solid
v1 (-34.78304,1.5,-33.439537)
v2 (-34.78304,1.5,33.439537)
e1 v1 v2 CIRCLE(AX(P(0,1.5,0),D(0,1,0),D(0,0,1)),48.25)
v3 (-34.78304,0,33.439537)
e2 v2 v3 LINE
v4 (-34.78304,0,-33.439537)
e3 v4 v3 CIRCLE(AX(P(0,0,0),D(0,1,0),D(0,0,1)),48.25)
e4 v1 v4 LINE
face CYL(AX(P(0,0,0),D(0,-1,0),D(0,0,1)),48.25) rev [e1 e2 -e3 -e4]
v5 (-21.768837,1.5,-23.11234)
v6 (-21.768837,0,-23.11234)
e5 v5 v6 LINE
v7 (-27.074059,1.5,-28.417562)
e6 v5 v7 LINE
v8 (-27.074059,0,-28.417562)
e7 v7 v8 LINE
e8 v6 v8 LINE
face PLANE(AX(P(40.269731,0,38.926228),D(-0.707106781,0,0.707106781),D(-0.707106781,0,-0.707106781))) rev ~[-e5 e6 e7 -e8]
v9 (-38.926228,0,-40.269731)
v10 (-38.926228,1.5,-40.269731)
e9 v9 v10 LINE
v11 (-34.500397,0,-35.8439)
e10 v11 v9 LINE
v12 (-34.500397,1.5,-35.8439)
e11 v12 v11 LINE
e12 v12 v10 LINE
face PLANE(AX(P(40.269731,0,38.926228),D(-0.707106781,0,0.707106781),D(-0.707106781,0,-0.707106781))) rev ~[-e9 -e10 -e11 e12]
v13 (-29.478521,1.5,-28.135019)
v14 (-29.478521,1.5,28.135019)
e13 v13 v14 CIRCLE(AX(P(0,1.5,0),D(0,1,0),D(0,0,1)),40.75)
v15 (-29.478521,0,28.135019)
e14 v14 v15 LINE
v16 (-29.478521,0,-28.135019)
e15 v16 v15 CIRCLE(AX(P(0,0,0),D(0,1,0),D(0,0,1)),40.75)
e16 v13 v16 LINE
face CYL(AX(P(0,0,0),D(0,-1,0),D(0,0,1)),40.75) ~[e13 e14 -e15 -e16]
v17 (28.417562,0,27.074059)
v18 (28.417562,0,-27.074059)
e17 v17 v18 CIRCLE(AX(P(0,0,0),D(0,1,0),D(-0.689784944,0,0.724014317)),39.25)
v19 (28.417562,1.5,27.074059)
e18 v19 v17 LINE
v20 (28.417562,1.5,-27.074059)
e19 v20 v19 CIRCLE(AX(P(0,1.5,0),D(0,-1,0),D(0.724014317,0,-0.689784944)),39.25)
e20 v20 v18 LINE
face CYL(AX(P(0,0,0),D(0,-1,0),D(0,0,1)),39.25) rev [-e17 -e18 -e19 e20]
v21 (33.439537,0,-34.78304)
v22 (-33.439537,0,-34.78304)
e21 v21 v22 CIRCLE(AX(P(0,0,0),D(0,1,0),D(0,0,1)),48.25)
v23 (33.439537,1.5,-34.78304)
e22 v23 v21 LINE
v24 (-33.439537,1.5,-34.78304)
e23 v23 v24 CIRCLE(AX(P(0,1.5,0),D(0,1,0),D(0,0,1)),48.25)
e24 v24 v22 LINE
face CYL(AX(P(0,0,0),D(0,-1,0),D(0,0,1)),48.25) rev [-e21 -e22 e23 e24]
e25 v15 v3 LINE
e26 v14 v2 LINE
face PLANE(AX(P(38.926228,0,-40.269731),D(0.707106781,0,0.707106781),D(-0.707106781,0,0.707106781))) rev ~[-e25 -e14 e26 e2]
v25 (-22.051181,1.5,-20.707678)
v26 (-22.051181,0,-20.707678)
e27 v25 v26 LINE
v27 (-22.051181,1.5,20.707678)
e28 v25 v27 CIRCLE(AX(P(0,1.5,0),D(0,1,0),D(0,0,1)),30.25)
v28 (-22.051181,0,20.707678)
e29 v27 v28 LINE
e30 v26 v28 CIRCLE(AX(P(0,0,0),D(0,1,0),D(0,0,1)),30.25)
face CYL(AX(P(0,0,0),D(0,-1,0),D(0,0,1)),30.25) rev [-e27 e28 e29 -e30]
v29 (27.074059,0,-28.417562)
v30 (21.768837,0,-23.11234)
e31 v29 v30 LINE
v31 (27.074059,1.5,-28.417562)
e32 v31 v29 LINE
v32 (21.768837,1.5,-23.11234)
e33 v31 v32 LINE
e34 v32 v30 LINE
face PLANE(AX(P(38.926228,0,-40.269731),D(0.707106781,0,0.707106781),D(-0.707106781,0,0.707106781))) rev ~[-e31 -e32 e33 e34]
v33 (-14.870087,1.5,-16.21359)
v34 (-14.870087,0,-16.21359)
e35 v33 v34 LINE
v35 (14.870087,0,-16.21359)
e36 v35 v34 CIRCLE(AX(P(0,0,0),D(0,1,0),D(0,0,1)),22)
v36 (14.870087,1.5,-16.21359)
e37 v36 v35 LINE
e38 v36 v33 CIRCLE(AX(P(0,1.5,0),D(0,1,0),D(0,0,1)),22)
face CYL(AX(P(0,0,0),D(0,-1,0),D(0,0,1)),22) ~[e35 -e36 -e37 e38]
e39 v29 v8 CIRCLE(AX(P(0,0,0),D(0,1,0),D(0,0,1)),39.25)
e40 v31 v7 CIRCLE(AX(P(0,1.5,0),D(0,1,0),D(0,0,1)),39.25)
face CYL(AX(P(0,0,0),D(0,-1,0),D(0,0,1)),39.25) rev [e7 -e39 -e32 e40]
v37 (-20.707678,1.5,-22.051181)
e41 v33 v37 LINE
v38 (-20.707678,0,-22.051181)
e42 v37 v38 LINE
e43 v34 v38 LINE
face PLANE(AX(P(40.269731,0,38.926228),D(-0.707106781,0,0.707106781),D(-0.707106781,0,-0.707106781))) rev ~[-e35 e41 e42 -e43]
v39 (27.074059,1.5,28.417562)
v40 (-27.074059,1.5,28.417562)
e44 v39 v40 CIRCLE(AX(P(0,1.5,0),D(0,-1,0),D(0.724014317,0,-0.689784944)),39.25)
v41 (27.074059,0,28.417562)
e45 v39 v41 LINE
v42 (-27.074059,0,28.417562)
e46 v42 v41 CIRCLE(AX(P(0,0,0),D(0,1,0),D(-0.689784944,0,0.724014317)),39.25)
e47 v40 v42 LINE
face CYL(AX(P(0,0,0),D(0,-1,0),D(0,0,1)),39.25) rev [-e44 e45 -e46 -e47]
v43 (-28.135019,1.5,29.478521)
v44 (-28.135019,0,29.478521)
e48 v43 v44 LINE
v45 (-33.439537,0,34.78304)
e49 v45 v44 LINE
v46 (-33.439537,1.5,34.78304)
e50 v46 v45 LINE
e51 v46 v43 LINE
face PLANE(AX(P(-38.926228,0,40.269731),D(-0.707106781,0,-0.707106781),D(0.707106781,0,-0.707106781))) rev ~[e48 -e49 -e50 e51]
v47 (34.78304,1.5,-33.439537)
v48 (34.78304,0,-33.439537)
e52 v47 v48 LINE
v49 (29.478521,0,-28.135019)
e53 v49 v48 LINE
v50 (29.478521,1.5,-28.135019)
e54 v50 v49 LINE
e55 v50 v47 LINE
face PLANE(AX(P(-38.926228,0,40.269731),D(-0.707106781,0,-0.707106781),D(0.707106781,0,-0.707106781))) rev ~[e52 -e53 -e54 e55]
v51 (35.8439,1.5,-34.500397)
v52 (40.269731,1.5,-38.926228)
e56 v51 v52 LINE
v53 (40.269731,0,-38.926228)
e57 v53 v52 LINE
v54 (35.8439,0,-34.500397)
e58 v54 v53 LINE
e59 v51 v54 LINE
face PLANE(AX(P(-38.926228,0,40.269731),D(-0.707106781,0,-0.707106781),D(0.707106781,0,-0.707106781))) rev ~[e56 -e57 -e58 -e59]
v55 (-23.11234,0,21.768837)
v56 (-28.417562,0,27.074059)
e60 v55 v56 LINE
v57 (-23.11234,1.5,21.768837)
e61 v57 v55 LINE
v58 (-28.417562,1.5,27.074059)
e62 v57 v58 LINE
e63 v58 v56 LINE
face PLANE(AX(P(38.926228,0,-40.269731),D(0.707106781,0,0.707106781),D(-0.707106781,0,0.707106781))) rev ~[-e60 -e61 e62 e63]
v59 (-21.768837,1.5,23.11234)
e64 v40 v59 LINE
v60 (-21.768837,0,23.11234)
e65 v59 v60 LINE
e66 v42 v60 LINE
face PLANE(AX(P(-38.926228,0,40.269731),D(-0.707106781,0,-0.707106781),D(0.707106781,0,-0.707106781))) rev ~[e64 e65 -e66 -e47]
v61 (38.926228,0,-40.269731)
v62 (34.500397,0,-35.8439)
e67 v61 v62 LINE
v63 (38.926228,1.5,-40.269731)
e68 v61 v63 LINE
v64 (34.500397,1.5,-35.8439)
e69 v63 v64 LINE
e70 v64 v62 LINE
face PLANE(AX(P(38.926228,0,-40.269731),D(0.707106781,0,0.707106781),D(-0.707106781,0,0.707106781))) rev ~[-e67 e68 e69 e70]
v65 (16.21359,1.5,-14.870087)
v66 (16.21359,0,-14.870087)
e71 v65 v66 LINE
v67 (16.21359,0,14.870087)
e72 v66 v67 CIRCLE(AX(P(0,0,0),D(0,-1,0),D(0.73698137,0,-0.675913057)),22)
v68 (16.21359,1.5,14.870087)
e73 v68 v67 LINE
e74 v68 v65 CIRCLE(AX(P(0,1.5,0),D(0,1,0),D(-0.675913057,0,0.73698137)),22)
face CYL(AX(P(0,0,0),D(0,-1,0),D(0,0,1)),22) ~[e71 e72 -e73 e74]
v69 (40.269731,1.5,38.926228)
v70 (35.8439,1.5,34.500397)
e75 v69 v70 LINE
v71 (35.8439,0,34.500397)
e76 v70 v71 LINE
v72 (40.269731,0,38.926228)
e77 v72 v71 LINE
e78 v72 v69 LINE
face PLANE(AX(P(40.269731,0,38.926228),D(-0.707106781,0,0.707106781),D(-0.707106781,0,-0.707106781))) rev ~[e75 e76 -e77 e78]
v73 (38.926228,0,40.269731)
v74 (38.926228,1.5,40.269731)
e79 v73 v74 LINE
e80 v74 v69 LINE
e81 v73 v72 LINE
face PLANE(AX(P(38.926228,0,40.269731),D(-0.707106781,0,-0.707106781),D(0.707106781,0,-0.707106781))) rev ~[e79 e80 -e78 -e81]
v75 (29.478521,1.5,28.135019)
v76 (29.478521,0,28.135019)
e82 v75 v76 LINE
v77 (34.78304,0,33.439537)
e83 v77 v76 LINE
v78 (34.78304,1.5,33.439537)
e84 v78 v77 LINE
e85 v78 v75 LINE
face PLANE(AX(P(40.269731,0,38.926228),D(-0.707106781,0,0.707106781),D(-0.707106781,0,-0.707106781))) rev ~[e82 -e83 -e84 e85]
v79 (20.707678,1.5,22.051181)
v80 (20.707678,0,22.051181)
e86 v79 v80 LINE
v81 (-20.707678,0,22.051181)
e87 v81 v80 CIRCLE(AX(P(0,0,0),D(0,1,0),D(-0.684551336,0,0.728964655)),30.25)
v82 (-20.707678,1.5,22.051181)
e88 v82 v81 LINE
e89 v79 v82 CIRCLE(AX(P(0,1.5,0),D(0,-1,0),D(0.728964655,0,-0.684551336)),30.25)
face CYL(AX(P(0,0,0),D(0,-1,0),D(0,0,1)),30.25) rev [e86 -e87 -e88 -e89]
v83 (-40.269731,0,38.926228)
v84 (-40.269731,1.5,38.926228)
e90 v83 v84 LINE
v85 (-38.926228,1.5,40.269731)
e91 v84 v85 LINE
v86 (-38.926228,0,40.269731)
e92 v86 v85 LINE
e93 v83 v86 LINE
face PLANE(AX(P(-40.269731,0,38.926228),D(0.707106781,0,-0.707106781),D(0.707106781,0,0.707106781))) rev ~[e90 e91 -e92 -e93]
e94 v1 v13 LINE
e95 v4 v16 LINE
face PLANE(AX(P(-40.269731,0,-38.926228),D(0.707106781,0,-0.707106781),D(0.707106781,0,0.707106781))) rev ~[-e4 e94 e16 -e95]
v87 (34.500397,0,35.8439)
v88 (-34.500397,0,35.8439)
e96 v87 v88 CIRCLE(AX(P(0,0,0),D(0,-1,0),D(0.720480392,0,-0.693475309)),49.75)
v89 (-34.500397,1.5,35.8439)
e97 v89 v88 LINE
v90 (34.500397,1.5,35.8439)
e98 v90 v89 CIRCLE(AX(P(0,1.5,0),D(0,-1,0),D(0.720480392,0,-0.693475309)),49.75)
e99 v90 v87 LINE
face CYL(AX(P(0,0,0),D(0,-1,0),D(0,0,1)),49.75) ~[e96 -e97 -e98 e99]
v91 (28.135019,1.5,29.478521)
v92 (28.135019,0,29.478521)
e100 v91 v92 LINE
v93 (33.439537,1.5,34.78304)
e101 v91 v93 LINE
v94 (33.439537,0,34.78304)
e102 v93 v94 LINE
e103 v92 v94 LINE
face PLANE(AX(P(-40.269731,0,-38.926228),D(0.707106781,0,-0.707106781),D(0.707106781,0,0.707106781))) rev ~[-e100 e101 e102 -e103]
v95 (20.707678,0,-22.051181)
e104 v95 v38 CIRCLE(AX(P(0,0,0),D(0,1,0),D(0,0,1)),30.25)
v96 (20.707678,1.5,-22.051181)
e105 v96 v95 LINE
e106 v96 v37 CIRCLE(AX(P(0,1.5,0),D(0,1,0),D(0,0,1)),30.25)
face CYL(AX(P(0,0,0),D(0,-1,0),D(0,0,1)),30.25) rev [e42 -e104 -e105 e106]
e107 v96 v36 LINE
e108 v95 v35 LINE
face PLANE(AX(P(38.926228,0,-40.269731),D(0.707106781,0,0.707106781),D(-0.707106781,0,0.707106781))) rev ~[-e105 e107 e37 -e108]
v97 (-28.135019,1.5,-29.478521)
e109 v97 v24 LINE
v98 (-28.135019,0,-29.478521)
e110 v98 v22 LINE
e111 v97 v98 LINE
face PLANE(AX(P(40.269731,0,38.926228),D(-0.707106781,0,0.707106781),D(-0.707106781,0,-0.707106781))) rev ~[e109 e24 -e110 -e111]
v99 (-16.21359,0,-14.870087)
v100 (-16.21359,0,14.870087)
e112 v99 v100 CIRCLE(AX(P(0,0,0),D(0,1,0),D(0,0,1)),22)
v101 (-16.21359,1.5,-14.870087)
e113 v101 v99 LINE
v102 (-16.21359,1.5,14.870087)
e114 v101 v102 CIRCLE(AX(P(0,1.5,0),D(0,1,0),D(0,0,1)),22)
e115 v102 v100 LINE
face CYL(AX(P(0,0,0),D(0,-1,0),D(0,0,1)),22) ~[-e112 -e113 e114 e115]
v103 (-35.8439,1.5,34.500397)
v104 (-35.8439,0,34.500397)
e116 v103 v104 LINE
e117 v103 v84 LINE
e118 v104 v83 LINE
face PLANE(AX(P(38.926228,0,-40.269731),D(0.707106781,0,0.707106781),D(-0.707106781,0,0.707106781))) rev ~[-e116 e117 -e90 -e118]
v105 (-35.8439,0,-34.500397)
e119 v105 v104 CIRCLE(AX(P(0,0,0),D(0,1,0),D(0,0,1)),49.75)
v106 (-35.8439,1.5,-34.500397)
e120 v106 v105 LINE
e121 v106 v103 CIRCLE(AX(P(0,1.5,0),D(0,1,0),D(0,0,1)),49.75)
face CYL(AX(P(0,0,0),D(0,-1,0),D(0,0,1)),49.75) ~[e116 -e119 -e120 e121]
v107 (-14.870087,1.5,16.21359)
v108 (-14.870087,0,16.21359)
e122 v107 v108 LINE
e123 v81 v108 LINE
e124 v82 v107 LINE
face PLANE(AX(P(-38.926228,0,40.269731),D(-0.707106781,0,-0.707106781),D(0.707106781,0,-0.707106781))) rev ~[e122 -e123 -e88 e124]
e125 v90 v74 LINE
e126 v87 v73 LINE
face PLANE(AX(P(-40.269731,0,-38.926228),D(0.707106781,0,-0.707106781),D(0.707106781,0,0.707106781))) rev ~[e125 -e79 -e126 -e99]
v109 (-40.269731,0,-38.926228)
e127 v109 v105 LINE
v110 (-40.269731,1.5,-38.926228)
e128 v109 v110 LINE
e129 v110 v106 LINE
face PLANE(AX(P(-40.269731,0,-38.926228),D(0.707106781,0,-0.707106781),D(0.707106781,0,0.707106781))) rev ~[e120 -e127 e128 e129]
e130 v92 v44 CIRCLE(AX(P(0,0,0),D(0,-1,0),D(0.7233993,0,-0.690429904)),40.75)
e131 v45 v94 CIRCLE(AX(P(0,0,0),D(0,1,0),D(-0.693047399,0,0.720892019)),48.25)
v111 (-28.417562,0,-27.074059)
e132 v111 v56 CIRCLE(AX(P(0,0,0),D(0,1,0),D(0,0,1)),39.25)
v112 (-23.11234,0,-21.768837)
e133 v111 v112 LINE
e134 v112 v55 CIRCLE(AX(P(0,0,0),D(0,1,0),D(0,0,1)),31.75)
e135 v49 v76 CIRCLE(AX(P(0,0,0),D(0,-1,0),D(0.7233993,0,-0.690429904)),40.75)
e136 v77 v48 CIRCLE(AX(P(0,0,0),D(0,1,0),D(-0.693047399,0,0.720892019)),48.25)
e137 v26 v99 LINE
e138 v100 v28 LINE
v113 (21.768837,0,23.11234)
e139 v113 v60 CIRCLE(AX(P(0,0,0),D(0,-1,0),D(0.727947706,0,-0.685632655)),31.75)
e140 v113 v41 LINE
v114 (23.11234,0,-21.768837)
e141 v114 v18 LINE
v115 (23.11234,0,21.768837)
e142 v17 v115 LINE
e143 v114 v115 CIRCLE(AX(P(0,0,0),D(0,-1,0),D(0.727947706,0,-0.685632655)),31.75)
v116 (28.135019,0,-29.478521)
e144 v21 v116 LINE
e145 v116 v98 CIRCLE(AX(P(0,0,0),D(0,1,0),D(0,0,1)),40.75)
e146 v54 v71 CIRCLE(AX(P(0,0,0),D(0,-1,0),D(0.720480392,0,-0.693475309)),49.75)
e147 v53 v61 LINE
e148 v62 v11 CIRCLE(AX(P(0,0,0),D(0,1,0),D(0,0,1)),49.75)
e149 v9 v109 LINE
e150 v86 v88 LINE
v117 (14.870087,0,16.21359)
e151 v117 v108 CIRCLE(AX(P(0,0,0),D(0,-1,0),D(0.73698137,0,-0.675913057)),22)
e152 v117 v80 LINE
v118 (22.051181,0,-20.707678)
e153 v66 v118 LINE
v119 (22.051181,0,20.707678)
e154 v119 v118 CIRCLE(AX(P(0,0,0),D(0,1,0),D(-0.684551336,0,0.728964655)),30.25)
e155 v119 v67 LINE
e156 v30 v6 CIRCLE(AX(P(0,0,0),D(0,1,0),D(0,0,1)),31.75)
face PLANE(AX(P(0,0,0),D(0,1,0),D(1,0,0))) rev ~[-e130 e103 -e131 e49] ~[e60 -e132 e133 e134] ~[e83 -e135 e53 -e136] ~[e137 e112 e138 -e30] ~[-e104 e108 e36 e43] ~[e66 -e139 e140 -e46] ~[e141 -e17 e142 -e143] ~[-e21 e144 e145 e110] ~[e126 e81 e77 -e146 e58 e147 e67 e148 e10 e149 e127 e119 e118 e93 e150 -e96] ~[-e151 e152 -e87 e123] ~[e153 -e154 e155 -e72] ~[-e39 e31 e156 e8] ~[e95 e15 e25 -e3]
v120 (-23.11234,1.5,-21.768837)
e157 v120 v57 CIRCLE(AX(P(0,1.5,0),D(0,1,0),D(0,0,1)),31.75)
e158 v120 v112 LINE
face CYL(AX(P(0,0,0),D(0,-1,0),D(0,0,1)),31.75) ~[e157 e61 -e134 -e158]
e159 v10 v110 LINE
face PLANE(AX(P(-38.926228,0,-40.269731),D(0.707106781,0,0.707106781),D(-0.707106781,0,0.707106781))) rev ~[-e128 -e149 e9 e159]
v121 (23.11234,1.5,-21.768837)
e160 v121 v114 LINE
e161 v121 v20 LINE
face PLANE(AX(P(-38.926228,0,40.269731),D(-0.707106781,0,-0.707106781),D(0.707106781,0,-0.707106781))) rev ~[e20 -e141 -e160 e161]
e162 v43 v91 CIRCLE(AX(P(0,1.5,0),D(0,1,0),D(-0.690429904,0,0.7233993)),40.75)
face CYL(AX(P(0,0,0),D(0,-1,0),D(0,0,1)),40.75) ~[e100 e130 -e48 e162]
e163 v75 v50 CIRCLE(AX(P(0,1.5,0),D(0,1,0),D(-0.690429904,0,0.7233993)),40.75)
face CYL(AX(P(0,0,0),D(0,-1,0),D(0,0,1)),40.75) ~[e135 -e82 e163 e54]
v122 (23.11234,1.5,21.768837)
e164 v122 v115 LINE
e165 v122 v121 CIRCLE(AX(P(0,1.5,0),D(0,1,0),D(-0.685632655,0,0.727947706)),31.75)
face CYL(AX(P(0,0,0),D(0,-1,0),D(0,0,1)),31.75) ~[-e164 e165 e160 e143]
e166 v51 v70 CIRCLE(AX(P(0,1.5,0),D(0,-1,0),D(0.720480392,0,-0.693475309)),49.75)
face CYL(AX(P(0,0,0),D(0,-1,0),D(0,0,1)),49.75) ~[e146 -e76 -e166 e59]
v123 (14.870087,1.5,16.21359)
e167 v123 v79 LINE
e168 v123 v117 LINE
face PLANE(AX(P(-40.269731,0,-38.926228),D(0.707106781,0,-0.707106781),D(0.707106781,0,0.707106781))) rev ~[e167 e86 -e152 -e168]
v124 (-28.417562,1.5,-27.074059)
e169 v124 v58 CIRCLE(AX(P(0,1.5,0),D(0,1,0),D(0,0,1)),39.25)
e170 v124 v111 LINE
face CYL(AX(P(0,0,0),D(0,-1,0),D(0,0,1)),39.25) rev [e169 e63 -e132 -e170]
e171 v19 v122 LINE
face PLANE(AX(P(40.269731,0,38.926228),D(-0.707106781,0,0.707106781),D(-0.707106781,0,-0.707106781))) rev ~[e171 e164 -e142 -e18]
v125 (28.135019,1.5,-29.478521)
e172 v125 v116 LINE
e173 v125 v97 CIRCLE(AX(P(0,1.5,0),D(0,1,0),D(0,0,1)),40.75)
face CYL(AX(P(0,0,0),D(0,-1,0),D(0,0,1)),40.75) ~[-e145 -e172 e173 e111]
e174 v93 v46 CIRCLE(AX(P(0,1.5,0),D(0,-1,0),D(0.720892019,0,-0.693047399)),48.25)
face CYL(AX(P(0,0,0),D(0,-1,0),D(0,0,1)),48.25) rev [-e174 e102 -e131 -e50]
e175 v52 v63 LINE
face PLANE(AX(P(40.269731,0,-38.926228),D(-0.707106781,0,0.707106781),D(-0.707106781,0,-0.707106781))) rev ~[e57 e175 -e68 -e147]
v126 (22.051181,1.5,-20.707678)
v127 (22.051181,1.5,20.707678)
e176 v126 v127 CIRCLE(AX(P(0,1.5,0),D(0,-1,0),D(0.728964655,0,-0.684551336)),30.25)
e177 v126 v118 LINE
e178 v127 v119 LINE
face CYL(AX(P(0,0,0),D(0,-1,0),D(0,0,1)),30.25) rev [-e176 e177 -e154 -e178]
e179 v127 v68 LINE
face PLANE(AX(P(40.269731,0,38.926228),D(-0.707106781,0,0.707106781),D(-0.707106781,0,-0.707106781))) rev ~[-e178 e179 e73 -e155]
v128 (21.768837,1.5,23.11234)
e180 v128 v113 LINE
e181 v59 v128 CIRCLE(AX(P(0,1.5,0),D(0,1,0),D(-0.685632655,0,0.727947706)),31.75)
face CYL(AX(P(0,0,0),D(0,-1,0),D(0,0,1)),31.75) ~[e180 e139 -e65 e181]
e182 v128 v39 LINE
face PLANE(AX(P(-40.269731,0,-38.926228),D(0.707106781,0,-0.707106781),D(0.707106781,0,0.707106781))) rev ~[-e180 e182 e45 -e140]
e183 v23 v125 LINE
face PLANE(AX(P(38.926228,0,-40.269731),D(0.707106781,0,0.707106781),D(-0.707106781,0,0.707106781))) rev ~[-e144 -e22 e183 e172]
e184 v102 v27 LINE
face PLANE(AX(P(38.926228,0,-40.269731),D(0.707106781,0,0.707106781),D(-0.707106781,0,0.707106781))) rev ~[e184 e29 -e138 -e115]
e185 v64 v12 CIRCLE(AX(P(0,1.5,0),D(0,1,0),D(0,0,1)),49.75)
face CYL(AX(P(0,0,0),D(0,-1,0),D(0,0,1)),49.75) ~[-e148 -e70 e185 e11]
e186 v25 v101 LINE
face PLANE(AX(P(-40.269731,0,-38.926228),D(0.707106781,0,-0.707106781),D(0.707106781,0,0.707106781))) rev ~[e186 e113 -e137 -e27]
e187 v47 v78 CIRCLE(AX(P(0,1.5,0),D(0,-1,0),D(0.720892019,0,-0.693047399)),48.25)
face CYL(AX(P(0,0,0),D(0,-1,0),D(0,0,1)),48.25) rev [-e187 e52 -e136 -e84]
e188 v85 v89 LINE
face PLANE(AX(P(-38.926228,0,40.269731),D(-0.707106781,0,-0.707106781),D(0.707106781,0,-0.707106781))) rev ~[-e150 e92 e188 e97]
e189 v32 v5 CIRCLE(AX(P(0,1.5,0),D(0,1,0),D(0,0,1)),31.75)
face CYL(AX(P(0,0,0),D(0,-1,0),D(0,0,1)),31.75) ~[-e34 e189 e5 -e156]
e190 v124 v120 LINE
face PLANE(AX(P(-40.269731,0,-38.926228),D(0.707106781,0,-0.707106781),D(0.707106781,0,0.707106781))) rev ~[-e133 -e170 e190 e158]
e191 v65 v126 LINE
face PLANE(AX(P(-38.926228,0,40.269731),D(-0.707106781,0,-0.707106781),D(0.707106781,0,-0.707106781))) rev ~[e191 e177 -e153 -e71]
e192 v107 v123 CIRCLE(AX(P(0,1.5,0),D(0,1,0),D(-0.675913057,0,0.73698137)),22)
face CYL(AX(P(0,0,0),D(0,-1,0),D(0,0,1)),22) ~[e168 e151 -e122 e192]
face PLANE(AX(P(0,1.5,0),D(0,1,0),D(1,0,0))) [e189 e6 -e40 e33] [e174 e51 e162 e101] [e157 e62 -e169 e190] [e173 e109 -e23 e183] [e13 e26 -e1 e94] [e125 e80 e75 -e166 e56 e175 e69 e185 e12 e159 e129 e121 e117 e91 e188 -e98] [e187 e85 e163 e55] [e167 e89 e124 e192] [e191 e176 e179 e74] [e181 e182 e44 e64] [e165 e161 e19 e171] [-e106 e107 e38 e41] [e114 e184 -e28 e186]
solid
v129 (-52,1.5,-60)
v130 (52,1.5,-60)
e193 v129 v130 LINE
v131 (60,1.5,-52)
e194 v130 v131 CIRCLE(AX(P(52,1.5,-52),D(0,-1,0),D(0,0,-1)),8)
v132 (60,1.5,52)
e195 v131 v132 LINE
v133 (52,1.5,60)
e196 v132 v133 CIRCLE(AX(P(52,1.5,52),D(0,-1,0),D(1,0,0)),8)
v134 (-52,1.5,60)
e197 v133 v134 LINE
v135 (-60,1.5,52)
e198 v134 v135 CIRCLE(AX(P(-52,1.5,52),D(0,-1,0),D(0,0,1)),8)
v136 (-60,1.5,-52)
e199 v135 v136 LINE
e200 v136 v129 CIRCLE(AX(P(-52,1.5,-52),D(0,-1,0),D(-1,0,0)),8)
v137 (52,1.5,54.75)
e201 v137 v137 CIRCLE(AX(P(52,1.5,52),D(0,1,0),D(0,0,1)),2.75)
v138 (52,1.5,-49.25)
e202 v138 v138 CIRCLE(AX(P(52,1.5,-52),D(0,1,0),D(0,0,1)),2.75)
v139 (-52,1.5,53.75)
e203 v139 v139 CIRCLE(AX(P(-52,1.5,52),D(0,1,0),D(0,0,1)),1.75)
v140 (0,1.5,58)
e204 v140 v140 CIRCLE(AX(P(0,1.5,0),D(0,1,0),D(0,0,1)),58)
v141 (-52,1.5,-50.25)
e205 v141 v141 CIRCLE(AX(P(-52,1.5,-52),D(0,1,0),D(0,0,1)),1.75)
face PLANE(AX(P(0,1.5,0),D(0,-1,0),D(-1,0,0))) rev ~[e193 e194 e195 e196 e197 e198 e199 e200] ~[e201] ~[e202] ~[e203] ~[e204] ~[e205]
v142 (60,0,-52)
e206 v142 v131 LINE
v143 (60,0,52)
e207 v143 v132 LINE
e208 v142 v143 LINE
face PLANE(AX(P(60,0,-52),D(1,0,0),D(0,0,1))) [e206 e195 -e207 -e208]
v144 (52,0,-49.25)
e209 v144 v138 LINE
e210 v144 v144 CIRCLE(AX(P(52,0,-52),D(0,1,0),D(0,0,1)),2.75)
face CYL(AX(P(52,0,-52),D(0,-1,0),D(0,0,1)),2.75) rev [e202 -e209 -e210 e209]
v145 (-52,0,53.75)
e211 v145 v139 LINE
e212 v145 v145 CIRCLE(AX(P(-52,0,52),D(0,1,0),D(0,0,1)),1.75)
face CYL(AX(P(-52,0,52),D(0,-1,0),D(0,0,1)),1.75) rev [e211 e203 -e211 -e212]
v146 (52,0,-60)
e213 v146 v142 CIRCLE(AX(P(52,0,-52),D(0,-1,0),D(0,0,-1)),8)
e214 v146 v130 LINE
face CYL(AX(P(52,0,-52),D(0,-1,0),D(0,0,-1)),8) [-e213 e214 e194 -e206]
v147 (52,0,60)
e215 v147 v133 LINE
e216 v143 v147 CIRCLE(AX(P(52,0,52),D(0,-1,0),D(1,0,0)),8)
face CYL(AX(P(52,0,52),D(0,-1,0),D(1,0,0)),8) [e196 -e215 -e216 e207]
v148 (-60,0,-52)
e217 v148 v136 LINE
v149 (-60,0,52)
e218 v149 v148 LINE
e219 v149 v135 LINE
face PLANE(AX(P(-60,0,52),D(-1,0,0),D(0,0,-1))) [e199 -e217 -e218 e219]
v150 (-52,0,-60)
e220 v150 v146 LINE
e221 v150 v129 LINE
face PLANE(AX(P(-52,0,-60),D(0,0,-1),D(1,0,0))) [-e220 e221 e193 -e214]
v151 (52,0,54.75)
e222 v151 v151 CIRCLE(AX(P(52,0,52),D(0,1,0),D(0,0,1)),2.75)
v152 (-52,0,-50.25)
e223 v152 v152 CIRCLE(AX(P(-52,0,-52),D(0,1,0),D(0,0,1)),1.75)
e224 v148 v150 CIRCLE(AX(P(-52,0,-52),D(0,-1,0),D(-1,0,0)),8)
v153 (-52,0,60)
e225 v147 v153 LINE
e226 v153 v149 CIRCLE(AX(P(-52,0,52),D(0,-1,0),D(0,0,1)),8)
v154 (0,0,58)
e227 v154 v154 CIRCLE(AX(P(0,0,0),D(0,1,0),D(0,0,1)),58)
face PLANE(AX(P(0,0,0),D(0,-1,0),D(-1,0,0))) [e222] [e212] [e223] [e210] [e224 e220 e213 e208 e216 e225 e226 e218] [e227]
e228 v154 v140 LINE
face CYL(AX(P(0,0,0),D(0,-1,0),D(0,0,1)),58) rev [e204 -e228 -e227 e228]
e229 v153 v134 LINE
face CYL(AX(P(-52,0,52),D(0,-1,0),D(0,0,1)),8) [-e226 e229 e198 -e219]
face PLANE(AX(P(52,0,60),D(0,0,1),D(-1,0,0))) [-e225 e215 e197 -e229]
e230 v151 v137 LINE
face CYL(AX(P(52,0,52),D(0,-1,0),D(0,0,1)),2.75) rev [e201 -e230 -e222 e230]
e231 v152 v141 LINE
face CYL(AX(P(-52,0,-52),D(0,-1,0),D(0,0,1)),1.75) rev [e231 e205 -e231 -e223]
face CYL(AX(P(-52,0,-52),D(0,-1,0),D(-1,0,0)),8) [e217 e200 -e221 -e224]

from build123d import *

# Parameters (mm, degrees)
SKETCH_1_R      = 2.75
SKETCH_1_R_2    = 1.75
SKETCH_1_R_3    = 58
EXTRUDE_1_DEPTH = 1.5
SKETCH_2_R      = 22
EXTRUDE_2_DEPTH = 1.5
SKETCH_3_R      = 31.75
SKETCH_3_R_2    = 30.25
EXTRUDE_3_DEPTH = 1.5
SKETCH_4_R      = 40.75
SKETCH_4_R_2    = 39.25
EXTRUDE_4_DEPTH = 1.5
SKETCH_5_R      = 49.75
SKETCH_5_R_2    = 48.25
EXTRUDE_5_DEPTH = 1.5
SKETCH_5_2_R    = 49.75
SKETCH_5_2_R_2  = 48.25
EXTRUDE_6_DEPTH = 1.5
SKETCH_5_3_R    = 49.75
SKETCH_5_3_R_2  = 48.25
EXTRUDE_7_DEPTH = 1.5
EXTRUDE_8_DEPTH = 1.5
EXTRUDE_9_DEPTH = 1.5


with BuildPart() as part:
    # 草图1 → 凸台-拉伸1 (new body)
    with BuildSketch(Plane(origin=(0, 0, 0), x_dir=(1, 0, 0), z_dir=(0, 1, 0))):
        with BuildLine():
            Line((-52, 60), (52, 60))
            ThreePointArc((52, 60), (57.656854249, 57.656854249), (60, 52))
            Line((60, 52), (60, -52))
            ThreePointArc((60, -52), (57.656854249, -57.656854249), (52, -60))
            Line((52, -60), (-52, -60))
            ThreePointArc((-52, -60), (-57.656854249, -57.656854249), (-60, -52))
            Line((-60, -52), (-60, 52))
            ThreePointArc((-60, 52), (-57.656854249, 57.656854249), (-52, 60))
        make_face()
        with Locations((52, 52)):
            Circle(SKETCH_1_R, mode=Mode.SUBTRACT)
        with Locations((52, -52)):
            Circle(SKETCH_1_R, mode=Mode.SUBTRACT)
        with Locations((-52, 52)):
            Circle(SKETCH_1_R_2, mode=Mode.SUBTRACT)
        with Locations((-52, -52)):
            Circle(SKETCH_1_R_2, mode=Mode.SUBTRACT)
        Circle(SKETCH_1_R_3, mode=Mode.SUBTRACT)
    extrude(amount=EXTRUDE_1_DEPTH)


with BuildPart() as body_2:
    # 草图2 → 凸台-拉伸2 (new body)
    with BuildSketch(Plane(origin=(0, 0, 0), x_dir=(1, 0, 0), z_dir=(0, 1, 0))):
        Circle(SKETCH_2_R)
    extrude(amount=EXTRUDE_2_DEPTH)



with BuildPart() as body_3:
    # 草图3 → 凸台-拉伸3 (new body)
    with BuildSketch(Plane(origin=(0, 0, 0), x_dir=(1, 0, 0), z_dir=(0, 1, 0))):
        Circle(SKETCH_3_R)
        Circle(SKETCH_3_R_2, mode=Mode.SUBTRACT)
    extrude(amount=EXTRUDE_3_DEPTH)


with BuildPart() as body_4:
    # 草图4 → 凸台-拉伸4 (new body)
    with BuildSketch(Plane(origin=(0, 0, 0), x_dir=(1, 0, 0), z_dir=(0, 1, 0))):
        Circle(SKETCH_4_R)
        Circle(SKETCH_4_R_2, mode=Mode.SUBTRACT)
    extrude(amount=EXTRUDE_4_DEPTH)


with BuildPart() as body_5:
    # 草图5 → 凸台-拉伸5 (new body)
    with BuildSketch(Plane(origin=(0, 0, 0), x_dir=(1, 0, 0), z_dir=(0, 1, 0))):
        Circle(SKETCH_5_R)
        Circle(SKETCH_5_R_2, mode=Mode.SUBTRACT)
    extrude(amount=EXTRUDE_5_DEPTH)

    # 草图5<2> → 凸台-拉伸6 (add)
    with BuildSketch(Plane(origin=(0, 0, 0), x_dir=(1, 0, 0), z_dir=(0, 1, 0))):
        Circle(SKETCH_5_2_R)
        Circle(SKETCH_5_2_R_2, mode=Mode.SUBTRACT)
    extrude(amount=EXTRUDE_6_DEPTH)

    # 草图5<3> → 凸台-拉伸7 (add)
    with BuildSketch(Plane(origin=(0, 0, 0), x_dir=(1, 0, 0), z_dir=(0, 1, 0))):
        Circle(SKETCH_5_3_R)
        Circle(SKETCH_5_3_R_2, mode=Mode.SUBTRACT)
    extrude(amount=EXTRUDE_7_DEPTH)


with BuildPart() as body_2_1:
    add(body_2.part)

    add(body_3.part)  # 凸台-拉伸8 merges body 3

    add(body_4.part)  # 凸台-拉伸8 merges body 4

    add(body_5.part)  # 凸台-拉伸8 merges body 5
    # 草图8 → 凸台-拉伸8 (add)
    with BuildSketch(Plane(origin=(0, 0, 0), x_dir=(1, 0, 0), z_dir=(0, 1, 0))):
        Polygon((-38.926228304, -40.269731189), (40.269731189, 38.926228304), (38.926228304, 40.269731189), (-40.269731189, -38.926228304), align=None)
    extrude(amount=EXTRUDE_8_DEPTH)

    # 草图9 → 凸台-拉伸9 (add)
    with BuildSketch(Plane(origin=(0, 0, 0), x_dir=(1, 0, 0), z_dir=(0, 1, 0))):
        Polygon((40.269731189, -38.926228304), (-38.926228304, 40.269731189), (-40.269731189, 38.926228304), (38.926228304, -40.269731189), align=None)
    extrude(amount=EXTRUDE_9_DEPTH)


solid = Compound([part.part, body_2_1.part])
